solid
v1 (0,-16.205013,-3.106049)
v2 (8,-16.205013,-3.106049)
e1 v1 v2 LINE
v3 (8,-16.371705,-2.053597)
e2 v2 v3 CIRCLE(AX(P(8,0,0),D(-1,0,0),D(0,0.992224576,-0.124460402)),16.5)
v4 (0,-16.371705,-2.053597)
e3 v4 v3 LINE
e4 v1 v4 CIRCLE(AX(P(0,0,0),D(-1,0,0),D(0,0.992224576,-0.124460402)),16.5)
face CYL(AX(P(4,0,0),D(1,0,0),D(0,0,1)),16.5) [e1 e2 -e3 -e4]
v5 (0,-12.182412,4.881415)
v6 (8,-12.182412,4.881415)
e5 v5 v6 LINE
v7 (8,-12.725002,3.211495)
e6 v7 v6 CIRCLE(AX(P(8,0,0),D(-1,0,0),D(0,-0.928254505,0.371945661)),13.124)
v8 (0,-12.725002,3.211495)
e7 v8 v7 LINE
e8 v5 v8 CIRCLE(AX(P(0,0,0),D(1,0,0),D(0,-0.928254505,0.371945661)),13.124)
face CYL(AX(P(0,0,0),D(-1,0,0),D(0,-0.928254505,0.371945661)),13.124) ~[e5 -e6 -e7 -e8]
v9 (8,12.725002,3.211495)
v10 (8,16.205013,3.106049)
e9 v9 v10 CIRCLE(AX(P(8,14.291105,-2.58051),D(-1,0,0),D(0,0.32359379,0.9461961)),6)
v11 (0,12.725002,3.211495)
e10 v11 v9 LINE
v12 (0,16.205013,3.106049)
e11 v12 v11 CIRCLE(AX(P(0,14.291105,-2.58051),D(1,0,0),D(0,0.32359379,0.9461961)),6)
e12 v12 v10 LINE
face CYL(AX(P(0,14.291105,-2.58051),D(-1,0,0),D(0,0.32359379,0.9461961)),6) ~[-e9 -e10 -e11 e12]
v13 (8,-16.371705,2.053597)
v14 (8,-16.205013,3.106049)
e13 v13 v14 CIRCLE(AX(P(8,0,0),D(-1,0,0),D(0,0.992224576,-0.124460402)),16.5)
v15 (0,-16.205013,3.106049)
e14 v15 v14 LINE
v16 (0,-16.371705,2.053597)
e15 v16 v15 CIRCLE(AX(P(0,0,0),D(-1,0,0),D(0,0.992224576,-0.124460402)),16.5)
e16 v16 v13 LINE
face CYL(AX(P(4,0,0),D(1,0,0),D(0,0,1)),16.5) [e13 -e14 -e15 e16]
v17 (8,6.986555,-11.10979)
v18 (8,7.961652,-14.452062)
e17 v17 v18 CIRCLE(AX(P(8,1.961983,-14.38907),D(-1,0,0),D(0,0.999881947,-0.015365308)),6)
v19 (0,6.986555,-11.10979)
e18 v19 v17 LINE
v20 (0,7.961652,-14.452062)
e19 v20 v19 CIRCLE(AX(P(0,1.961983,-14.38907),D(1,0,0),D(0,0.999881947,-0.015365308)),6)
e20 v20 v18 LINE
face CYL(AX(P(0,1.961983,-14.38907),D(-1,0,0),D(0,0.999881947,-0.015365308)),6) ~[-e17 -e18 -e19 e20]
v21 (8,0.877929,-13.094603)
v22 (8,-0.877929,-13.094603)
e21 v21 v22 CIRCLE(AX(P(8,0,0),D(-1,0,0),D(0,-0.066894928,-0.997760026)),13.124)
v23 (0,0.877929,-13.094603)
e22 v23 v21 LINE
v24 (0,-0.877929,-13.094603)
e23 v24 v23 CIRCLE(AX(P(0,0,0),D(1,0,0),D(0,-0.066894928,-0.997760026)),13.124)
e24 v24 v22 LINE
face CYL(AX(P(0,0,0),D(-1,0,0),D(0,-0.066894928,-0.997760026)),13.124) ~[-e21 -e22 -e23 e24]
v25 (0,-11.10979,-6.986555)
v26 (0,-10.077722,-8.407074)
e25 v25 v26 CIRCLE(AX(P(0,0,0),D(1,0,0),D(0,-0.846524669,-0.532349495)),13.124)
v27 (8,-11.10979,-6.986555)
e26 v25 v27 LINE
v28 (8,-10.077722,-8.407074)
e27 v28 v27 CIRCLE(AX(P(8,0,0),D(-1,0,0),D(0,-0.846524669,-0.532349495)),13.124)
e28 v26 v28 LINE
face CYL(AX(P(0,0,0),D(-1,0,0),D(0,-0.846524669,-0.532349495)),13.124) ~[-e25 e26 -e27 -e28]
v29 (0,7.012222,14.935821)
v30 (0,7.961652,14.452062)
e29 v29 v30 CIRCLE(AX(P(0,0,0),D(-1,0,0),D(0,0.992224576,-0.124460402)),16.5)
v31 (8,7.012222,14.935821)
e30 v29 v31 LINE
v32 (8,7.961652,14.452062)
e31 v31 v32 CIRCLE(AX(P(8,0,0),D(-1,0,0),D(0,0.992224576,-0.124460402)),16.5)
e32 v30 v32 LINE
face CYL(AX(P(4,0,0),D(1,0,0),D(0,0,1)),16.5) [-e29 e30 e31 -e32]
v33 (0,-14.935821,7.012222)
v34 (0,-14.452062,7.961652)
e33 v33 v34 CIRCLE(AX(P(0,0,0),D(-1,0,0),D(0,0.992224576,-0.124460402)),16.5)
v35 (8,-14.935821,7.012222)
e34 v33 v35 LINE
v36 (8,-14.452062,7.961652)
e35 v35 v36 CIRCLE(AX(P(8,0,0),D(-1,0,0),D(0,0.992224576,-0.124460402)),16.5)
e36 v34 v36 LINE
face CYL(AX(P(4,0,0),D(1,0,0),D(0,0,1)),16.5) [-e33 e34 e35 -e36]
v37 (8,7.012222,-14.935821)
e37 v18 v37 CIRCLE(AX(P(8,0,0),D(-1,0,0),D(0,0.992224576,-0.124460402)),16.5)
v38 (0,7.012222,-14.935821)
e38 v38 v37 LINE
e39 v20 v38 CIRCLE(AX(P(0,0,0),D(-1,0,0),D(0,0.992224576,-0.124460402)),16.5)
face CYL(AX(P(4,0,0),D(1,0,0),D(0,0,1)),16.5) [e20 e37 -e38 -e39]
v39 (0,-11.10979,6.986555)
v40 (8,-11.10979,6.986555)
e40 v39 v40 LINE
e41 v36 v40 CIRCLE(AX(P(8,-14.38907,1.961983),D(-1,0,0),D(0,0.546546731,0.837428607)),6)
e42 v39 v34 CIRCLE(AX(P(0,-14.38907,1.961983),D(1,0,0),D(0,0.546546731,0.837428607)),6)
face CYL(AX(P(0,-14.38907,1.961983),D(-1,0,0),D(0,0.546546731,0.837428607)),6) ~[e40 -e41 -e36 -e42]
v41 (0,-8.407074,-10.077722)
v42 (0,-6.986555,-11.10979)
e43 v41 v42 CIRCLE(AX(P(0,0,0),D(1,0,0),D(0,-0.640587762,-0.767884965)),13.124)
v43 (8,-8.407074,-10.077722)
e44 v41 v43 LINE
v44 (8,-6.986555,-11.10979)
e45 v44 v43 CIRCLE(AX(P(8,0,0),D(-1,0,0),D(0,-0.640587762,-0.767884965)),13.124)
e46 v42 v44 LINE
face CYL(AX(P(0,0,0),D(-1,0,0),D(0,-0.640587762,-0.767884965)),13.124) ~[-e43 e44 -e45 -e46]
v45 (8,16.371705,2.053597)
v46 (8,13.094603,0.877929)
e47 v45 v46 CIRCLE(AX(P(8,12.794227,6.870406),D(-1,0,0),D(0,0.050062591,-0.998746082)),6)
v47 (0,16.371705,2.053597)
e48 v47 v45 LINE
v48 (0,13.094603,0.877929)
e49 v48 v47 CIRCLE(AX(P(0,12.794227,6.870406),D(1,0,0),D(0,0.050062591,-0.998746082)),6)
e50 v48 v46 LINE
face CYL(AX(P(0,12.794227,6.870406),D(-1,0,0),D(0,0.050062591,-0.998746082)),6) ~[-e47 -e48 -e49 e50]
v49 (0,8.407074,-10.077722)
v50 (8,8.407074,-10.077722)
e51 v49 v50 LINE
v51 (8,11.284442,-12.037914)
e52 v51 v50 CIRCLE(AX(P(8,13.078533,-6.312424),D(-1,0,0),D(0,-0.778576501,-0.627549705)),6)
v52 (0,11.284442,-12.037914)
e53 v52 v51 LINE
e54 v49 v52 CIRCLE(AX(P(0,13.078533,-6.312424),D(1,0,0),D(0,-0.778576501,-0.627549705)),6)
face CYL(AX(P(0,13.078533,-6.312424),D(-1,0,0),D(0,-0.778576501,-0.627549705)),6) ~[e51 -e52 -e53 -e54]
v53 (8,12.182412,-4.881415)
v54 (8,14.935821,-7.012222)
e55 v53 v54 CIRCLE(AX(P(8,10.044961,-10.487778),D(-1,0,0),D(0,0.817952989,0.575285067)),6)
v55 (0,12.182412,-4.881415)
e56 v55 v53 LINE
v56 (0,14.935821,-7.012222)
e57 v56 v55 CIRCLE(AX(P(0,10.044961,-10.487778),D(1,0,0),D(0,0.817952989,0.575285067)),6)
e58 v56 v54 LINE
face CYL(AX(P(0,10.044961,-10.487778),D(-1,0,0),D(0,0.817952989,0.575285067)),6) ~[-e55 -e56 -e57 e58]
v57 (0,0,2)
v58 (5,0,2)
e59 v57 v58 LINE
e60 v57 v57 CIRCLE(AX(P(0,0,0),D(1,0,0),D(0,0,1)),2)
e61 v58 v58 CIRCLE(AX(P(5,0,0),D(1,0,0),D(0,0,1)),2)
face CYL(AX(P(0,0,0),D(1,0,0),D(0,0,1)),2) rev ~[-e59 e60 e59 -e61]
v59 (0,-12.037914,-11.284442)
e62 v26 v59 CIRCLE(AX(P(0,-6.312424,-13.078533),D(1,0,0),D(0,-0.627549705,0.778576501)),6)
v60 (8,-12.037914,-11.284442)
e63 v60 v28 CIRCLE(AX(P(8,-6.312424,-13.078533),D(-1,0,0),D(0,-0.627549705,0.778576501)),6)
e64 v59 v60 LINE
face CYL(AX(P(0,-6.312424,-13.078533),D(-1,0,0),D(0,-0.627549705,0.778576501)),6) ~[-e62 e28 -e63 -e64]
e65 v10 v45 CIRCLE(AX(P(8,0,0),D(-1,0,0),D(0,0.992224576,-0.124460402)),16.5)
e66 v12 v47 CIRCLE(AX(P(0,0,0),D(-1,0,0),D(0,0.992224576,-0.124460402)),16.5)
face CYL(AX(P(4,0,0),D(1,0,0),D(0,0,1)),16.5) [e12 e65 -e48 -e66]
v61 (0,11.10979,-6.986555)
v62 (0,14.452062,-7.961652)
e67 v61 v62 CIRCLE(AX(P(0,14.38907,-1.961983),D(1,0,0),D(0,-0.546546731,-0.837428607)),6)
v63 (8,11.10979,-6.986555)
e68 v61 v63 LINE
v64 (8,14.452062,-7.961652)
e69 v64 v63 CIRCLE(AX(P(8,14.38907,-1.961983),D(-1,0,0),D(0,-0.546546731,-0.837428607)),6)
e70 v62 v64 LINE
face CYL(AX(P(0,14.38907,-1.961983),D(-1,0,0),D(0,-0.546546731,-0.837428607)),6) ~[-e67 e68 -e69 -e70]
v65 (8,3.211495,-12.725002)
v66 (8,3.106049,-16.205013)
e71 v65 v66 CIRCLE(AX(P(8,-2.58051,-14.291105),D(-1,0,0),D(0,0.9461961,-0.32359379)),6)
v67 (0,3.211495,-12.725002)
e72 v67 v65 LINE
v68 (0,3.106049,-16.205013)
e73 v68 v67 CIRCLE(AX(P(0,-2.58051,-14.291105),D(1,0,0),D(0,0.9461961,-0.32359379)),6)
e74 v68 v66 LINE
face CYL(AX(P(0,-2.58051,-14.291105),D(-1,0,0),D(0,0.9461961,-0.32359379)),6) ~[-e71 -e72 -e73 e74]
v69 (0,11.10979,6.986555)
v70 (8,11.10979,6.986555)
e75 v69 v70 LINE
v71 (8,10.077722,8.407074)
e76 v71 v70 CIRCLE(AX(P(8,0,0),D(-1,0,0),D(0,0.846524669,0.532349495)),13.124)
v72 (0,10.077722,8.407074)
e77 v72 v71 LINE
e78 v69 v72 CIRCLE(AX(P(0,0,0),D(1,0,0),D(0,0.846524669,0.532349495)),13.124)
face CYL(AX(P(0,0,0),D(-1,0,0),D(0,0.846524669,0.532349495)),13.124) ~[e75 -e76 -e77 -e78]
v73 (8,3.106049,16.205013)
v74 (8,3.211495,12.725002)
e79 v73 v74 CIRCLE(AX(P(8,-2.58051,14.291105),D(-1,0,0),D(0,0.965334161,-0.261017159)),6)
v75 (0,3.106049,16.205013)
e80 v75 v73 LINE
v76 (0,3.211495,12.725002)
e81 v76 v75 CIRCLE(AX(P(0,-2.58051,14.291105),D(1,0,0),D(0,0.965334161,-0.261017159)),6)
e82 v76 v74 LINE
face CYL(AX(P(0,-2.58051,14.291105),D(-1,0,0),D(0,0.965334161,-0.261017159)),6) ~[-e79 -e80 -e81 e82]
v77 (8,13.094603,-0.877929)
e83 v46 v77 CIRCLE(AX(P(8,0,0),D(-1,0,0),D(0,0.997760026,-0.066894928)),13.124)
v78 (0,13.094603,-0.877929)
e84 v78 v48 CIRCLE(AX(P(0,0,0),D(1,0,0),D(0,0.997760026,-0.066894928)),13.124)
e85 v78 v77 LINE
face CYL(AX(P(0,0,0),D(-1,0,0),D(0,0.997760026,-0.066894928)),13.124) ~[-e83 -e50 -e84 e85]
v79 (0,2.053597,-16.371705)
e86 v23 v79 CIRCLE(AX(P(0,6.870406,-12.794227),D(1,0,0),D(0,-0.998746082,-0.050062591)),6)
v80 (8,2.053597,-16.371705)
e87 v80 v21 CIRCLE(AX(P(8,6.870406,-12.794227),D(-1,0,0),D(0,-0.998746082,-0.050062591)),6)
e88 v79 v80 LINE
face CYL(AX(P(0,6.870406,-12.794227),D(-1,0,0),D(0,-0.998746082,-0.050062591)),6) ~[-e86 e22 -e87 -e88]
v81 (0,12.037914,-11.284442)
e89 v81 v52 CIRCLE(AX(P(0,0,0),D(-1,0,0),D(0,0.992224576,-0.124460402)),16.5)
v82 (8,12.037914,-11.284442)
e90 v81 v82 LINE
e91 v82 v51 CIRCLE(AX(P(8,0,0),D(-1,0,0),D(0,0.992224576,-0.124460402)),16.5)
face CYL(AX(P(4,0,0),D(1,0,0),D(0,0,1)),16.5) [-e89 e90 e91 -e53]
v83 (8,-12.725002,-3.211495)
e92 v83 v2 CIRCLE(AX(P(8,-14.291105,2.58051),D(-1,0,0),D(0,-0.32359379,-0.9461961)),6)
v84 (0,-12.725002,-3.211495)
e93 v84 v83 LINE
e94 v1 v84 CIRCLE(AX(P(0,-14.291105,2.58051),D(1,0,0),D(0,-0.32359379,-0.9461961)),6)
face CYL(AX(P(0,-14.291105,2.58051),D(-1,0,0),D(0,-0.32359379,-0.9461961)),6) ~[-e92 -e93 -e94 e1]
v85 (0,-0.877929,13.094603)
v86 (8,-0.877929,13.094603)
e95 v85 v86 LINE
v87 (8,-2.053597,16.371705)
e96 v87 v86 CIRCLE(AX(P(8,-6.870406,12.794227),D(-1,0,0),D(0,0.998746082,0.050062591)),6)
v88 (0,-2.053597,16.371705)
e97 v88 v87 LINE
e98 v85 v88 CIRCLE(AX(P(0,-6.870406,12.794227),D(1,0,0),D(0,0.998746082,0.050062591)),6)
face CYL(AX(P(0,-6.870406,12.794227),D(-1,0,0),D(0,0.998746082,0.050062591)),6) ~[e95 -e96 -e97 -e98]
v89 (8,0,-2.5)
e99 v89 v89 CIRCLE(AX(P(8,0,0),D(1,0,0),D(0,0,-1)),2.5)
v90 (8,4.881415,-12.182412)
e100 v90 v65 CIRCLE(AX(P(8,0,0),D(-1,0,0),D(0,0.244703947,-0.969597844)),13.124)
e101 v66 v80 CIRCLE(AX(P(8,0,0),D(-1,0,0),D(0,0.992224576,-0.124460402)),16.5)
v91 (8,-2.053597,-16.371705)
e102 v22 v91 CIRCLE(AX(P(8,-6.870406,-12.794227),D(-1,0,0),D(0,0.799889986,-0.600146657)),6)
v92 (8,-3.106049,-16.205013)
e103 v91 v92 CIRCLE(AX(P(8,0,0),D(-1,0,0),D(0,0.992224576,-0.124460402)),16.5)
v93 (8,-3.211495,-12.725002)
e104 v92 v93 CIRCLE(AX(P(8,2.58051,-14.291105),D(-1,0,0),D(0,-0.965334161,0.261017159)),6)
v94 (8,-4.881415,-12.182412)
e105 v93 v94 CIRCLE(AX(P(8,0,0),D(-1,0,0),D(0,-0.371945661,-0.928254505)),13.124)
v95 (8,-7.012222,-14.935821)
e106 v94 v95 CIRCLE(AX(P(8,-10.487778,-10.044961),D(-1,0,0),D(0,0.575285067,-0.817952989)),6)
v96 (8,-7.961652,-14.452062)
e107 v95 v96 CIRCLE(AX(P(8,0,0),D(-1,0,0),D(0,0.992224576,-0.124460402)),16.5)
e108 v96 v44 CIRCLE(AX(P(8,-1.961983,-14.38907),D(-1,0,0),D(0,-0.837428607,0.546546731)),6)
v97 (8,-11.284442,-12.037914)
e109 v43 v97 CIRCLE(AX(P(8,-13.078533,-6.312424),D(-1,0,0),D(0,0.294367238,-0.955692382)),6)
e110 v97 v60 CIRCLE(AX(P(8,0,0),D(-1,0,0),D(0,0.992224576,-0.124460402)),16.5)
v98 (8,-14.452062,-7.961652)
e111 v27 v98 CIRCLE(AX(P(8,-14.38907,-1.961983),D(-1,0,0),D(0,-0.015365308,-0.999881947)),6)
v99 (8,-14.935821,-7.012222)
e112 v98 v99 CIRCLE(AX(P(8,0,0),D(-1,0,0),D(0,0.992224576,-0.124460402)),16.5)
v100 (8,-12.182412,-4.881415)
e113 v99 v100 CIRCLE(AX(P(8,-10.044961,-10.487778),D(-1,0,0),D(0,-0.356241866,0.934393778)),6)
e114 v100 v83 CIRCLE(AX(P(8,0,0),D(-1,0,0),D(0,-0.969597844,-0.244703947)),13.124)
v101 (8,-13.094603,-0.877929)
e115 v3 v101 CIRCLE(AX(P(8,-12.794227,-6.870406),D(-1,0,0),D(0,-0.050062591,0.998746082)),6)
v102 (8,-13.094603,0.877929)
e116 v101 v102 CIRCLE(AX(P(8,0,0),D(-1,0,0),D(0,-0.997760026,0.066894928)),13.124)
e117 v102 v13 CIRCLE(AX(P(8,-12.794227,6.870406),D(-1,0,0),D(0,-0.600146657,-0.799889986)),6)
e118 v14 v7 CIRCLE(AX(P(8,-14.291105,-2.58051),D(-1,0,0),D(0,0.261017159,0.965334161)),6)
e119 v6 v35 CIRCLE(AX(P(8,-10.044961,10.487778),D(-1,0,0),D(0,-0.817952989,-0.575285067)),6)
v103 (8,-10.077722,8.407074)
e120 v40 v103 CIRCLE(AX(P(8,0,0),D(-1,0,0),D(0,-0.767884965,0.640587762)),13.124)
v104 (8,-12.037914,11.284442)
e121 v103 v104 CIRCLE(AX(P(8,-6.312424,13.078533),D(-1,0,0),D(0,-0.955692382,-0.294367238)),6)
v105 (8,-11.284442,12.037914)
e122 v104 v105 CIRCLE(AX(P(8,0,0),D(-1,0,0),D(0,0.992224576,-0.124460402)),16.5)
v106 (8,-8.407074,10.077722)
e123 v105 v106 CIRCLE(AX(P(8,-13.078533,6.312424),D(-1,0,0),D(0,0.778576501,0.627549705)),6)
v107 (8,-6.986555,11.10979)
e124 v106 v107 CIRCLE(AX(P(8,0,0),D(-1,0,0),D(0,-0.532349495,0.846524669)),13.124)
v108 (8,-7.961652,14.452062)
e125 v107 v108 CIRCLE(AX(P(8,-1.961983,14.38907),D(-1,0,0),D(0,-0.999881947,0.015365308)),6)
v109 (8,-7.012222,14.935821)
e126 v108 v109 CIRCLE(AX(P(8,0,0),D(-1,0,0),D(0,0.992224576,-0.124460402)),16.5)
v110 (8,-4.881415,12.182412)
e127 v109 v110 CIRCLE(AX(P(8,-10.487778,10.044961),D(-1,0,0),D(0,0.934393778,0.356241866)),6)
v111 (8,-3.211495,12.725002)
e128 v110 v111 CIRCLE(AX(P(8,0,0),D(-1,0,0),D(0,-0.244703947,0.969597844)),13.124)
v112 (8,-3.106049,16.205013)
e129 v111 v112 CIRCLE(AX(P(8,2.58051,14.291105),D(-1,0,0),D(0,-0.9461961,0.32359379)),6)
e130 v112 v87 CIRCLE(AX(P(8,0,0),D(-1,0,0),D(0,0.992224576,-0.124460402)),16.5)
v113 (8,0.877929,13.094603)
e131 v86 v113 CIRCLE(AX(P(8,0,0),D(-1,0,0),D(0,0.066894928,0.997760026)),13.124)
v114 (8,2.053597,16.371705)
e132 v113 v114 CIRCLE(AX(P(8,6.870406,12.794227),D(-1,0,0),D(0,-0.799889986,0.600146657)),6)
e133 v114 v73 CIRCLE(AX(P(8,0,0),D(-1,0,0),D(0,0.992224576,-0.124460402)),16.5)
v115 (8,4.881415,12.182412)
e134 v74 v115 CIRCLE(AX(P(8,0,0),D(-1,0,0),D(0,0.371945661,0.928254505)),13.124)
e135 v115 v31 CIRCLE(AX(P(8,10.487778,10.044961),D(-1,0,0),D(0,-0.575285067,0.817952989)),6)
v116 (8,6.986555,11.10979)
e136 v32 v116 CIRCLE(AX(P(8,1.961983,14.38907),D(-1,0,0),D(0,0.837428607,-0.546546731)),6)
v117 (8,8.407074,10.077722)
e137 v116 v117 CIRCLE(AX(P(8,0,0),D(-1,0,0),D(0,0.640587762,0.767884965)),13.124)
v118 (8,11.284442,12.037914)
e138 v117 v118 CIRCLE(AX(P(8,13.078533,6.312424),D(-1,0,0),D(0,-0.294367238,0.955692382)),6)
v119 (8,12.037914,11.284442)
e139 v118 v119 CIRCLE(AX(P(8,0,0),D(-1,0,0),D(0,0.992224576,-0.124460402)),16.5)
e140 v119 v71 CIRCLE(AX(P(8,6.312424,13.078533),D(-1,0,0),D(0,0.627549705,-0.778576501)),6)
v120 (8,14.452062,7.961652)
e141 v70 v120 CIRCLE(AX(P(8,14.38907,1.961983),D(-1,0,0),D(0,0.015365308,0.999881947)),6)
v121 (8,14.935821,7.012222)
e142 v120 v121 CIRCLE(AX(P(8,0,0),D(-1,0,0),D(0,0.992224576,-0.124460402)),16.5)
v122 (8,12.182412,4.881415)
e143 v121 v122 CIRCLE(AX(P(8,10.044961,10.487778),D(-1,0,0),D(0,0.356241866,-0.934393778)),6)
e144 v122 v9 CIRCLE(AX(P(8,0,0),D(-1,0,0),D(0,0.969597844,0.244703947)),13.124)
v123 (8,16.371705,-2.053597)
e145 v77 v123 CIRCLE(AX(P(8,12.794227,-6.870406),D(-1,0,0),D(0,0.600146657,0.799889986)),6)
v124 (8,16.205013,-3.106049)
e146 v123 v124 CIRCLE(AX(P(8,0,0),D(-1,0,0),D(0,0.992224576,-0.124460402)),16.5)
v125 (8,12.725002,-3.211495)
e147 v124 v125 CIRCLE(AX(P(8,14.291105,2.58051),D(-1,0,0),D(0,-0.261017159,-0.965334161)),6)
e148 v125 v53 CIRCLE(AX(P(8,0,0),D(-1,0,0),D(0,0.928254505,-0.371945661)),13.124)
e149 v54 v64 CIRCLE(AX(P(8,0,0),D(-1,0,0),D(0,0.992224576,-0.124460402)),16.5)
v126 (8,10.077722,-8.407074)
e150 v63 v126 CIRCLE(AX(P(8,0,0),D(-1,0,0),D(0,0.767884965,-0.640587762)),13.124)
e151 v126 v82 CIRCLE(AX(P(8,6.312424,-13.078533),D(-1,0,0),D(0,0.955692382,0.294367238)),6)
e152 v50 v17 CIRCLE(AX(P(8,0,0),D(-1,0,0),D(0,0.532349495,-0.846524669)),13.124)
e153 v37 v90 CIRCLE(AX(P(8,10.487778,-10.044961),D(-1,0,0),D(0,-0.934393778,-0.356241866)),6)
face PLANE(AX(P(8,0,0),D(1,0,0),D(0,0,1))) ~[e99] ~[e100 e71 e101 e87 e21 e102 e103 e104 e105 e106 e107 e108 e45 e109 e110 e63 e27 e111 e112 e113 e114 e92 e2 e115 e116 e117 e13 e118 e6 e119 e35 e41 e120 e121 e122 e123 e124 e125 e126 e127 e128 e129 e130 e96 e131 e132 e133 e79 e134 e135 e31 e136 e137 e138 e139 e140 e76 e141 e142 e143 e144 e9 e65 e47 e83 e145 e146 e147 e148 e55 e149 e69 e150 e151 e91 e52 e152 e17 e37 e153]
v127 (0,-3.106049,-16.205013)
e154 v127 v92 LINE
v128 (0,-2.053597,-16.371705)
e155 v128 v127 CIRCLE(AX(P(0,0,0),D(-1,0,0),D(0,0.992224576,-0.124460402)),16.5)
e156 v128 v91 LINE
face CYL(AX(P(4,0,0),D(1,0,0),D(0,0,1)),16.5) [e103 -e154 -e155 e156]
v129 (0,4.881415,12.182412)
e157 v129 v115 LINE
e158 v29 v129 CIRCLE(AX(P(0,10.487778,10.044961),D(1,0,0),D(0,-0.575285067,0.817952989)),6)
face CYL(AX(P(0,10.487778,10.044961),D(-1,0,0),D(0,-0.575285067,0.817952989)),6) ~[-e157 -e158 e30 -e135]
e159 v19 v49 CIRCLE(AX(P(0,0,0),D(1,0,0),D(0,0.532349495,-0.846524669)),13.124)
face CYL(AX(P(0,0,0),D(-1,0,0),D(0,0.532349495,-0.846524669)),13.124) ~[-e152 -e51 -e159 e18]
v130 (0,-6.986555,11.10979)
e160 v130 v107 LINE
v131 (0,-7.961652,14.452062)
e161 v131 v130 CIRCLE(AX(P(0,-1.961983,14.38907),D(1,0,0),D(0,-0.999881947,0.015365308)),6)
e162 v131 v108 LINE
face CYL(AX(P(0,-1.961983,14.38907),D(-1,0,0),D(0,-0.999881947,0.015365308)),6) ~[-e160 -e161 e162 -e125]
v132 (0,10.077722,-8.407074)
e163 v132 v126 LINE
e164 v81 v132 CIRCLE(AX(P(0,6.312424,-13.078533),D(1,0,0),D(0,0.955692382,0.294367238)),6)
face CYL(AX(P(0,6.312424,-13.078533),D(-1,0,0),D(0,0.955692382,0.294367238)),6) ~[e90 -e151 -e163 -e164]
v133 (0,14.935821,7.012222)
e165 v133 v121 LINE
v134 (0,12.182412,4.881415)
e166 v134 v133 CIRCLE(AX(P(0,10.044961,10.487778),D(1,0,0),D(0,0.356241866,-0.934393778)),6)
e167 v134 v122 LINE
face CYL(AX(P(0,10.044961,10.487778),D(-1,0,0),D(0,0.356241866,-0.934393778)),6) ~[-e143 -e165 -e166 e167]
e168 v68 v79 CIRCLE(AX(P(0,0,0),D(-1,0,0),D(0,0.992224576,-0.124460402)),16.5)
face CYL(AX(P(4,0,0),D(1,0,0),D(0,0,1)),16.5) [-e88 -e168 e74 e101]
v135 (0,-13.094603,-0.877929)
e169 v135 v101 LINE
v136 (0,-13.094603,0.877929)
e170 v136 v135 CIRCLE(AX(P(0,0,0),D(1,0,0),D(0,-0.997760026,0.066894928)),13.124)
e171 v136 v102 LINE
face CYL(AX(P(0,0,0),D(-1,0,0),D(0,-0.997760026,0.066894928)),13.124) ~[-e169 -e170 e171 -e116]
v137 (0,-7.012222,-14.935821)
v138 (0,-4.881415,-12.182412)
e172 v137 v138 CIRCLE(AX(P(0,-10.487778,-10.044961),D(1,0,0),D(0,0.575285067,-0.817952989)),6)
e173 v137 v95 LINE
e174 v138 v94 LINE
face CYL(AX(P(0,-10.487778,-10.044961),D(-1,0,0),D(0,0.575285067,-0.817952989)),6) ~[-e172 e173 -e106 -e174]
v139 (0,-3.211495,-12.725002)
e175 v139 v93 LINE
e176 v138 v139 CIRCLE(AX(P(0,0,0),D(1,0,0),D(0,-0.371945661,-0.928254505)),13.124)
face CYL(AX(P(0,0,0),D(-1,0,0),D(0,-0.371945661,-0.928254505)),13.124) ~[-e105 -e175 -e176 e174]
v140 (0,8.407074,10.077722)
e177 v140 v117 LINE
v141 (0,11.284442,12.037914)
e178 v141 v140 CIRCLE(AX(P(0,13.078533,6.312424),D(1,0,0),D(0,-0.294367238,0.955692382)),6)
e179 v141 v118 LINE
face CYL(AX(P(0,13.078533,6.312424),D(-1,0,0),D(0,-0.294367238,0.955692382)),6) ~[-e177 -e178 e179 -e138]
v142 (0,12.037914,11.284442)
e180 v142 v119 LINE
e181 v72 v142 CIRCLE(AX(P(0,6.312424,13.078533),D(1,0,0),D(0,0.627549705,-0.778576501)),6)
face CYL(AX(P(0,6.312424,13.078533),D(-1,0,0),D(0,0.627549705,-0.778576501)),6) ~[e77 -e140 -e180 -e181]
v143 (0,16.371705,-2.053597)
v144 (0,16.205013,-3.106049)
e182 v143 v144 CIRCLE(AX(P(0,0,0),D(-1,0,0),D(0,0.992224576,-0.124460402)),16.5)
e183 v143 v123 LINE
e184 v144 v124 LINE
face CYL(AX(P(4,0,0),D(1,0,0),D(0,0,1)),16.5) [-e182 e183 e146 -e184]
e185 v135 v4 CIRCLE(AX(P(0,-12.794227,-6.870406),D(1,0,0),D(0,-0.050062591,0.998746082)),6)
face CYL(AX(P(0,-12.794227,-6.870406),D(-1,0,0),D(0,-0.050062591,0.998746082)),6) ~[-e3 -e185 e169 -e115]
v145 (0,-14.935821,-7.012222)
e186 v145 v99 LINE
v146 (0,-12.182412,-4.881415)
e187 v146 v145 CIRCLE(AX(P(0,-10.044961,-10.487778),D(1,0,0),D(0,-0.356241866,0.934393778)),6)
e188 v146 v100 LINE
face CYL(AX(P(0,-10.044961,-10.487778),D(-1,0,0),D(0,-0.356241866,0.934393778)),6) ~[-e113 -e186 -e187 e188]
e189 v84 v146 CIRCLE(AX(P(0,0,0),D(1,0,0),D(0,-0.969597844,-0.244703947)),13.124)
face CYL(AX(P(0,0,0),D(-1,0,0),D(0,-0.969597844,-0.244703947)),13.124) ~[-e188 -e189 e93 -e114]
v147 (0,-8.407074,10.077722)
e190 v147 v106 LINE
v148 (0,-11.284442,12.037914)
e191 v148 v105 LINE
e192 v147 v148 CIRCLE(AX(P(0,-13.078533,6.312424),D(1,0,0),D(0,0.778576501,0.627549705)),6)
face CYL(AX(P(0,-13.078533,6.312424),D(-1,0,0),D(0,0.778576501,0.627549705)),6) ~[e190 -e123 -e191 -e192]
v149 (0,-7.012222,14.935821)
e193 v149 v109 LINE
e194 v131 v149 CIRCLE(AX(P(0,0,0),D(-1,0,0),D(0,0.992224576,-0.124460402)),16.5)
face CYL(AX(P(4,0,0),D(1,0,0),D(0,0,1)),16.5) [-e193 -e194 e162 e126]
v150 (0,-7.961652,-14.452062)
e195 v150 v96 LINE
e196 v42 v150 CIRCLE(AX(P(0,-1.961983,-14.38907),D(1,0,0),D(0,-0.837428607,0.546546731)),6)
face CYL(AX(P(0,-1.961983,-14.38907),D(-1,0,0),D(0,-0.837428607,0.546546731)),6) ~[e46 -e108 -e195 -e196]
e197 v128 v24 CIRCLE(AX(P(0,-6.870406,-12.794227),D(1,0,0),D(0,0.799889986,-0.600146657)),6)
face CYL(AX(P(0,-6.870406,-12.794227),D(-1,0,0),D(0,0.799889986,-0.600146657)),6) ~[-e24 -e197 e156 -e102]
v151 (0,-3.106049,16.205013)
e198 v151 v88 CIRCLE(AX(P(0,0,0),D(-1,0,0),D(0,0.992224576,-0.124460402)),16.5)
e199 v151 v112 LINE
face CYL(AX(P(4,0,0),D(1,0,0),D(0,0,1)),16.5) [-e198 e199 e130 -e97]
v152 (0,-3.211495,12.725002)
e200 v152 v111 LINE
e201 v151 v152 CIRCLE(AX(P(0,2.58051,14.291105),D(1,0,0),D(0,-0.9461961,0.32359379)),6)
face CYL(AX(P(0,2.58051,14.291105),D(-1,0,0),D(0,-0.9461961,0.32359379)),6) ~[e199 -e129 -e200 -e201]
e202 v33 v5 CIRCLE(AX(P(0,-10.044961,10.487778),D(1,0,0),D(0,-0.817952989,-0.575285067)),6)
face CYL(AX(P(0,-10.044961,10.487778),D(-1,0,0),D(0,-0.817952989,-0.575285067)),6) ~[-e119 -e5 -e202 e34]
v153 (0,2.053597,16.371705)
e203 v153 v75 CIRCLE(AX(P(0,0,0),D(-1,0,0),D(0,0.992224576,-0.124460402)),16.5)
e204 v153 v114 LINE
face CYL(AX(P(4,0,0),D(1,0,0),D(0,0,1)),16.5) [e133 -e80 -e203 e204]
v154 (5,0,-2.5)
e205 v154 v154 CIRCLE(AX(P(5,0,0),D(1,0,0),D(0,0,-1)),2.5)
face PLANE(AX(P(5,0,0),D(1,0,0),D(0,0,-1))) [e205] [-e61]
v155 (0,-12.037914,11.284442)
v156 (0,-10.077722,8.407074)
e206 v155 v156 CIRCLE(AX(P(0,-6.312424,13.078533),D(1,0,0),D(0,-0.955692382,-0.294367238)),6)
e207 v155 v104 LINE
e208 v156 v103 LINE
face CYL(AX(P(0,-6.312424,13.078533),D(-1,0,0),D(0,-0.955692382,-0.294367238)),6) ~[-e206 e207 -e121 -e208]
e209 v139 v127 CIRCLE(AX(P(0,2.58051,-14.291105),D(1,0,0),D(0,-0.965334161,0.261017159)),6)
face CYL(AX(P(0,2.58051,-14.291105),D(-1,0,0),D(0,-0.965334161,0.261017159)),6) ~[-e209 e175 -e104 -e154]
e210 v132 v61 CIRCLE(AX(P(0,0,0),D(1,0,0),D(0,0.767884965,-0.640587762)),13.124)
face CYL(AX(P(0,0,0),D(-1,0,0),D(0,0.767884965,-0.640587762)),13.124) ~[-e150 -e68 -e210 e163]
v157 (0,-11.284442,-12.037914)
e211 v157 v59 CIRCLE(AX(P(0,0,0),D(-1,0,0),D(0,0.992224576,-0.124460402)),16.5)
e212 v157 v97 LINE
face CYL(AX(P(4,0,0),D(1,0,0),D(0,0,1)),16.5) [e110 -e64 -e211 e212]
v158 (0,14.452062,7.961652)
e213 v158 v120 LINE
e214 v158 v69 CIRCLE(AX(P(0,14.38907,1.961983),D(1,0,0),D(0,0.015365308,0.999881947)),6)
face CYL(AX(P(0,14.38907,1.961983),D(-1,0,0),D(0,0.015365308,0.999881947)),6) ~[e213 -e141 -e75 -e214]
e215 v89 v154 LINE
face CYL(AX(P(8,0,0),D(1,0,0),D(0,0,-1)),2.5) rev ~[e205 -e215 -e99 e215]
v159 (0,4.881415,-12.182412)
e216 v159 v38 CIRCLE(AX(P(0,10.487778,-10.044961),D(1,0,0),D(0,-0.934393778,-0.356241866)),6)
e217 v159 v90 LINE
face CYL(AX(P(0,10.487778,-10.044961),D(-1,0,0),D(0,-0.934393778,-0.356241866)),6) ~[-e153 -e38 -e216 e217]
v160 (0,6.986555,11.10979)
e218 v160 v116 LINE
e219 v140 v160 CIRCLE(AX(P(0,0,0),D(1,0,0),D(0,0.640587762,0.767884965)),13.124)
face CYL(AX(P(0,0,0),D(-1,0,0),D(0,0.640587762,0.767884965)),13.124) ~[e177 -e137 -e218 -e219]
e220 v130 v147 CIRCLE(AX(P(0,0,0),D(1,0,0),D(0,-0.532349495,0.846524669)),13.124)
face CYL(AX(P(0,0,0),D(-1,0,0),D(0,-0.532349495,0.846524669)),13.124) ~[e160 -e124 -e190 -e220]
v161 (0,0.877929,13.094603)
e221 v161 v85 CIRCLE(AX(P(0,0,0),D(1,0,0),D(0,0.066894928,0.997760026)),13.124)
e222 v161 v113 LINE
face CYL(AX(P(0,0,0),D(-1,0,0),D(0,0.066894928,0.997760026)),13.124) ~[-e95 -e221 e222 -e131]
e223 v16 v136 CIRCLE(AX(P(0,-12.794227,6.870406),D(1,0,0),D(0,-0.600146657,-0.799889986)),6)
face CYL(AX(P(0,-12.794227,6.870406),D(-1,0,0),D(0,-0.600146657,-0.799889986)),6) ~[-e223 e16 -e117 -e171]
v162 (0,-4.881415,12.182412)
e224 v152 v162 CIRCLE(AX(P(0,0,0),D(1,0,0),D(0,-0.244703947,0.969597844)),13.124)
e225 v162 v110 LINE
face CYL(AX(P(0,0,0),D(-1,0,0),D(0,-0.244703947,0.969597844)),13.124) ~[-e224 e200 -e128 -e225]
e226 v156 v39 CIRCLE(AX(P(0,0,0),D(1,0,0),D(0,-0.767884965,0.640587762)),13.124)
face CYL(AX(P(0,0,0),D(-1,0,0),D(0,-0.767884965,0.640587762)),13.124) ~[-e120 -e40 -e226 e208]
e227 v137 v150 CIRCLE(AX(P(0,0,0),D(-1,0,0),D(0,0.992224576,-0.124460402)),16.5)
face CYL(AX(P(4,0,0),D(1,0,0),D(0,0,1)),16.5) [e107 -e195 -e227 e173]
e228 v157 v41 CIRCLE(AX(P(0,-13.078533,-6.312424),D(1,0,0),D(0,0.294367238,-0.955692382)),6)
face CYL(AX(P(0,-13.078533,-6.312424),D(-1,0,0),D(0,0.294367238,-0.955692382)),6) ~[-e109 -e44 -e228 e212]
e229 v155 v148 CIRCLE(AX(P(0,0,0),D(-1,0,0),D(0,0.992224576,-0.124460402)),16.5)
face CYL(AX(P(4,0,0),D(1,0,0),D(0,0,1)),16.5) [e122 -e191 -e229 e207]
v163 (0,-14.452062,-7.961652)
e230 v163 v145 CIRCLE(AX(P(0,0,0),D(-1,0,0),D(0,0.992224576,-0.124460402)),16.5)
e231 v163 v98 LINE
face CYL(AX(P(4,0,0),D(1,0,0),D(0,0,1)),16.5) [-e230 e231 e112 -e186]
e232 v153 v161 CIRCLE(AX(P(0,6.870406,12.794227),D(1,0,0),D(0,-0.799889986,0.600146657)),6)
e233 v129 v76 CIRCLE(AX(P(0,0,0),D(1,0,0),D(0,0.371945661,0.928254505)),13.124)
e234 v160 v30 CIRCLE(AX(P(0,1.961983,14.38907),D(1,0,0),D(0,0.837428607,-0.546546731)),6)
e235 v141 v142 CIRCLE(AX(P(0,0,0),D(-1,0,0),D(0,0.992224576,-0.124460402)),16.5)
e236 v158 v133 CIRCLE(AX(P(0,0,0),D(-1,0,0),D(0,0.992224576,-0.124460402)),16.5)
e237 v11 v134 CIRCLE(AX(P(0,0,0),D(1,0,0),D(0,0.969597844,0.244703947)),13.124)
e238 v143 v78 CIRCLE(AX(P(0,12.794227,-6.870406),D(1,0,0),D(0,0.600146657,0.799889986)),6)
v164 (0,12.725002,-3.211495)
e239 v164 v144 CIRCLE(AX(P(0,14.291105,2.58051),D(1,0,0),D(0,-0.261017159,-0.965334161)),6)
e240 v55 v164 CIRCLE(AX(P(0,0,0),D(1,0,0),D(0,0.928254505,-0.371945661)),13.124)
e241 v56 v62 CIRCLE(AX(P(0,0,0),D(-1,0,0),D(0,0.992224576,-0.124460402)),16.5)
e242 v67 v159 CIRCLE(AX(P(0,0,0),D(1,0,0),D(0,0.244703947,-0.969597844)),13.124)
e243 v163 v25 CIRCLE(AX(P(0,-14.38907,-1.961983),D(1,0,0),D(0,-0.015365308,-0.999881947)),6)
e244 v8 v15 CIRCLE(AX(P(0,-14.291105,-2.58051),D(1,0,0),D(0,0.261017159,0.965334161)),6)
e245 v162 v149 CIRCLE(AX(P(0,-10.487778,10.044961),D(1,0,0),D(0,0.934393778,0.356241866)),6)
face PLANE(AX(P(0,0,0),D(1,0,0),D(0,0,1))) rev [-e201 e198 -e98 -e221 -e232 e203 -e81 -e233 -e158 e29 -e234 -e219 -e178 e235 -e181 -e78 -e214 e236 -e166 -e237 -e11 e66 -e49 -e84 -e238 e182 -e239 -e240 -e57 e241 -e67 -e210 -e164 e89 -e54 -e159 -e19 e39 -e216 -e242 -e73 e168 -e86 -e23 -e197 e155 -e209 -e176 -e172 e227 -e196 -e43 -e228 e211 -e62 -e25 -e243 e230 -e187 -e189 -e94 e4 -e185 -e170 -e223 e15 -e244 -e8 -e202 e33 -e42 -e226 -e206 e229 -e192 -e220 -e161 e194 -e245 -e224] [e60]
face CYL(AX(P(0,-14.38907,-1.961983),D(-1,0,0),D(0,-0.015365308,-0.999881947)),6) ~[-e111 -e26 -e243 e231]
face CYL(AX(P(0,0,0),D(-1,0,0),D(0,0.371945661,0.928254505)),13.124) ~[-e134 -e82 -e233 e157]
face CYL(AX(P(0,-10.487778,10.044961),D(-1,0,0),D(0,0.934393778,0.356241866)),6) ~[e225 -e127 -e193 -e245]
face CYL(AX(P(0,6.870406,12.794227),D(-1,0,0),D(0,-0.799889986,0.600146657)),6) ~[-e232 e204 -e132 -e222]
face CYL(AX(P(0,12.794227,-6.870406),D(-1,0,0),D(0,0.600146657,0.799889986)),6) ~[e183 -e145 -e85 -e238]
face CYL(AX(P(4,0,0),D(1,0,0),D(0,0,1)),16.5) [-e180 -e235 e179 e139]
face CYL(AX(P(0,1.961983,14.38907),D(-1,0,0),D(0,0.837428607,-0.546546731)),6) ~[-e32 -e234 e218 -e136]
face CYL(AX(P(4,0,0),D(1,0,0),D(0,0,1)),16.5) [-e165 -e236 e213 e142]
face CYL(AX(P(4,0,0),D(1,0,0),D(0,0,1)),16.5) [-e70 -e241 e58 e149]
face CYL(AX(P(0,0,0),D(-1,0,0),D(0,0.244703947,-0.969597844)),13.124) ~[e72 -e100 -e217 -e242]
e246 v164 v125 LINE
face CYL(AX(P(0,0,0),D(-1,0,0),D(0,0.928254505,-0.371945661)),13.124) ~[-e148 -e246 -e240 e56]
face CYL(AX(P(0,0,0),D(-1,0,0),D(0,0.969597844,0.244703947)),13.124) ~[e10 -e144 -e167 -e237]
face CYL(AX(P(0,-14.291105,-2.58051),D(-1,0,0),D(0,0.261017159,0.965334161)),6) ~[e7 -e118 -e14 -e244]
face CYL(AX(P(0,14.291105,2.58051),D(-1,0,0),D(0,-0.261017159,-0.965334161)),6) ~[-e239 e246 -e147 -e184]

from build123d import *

# Parameters (mm, degrees)
BASPROSKE_W        = 8
BASPROSKE_H        = 16.5
TOOTHCUT_DEPTH     = 25.667792767
TEETHCUTS_COUNT    = 20
TEETHCUTS_ANGLE    = 342
BORSKE_R           = 2
BORE_DEPTH         = 50.0000508
SKETCH1_R          = 2.5
CUT_EXTRUDE1_DEPTH = 3


with BuildPart() as part:
    # BasProSke → Base-Revolve (revolve)
    with BuildSketch(Plane(origin=(0, 0, 0), x_dir=(1, 0, 0), z_dir=(0, 1, 0)), mode=Mode.PRIVATE) as base_revolve_sk:
        with Locations((4, 8.25)):
            Rectangle(BASPROSKE_W, BASPROSKE_H)
    revolve(base_revolve_sk.sketch.rotate(Axis((-10, 0, 0), (1, 0, 0)), 180), axis=Axis((-10, 0, 0), (1, 0, 0)))

    # TooCutSke → ToothCut (cut, through all)
    with BuildSketch(Plane(origin=(0, 0, 0), x_dir=(0, 0, -1), z_dir=(1, 0, 0))):
        with BuildLine():
            ThreePointArc((0.877929023, 13.094602576), (0, 13.124), (-0.877929023, 13.094602576))
            ThreePointArc((-0.877929023, 13.094602576), (-1.227785764, 14.834041313), (-2.071065599, 16.395106966))
            ThreePointArc((-2.071065599, 16.395106966), (0, 16.5254), (2.071065599, 16.395106966))
            ThreePointArc((2.071065599, 16.395106966), (1.227785764, 14.834041313), (0.877929023, 13.094602576))
        make_face()
    toothcut = extrude(amount=TOOTHCUT_DEPTH, mode=Mode.SUBTRACT)

    # TeethCuts: ToothCut ×20 about axis
    teethcuts_axis = Axis((-10, 0, 0), (1, 0, 0))
    for i in range(1, TEETHCUTS_COUNT):
        add(toothcut.rotate(teethcuts_axis, i * TEETHCUTS_ANGLE / (TEETHCUTS_COUNT - 1)), mode=Mode.SUBTRACT)

    # BorSke → Bore (cut, symmetric)
    with BuildSketch(Plane(origin=(0, 0, 0), x_dir=(0, 0, -1), z_dir=(1, 0, 0))):
        with Locations(Location((0, 0, 0), (0, 0, 180))):
            Circle(BORSKE_R)
    extrude(amount=BORE_DEPTH, both=True, mode=Mode.SUBTRACT)

    # Sketch1 → Cut-Extrude1 (cut)
    with BuildSketch(Plane(origin=(8, 0, 0), x_dir=(0, 0, -1), z_dir=(1, 0, 0))):
        Circle(SKETCH1_R)
    extrude(amount=-CUT_EXTRUDE1_DEPTH, mode=Mode.SUBTRACT)


solid = part.part
